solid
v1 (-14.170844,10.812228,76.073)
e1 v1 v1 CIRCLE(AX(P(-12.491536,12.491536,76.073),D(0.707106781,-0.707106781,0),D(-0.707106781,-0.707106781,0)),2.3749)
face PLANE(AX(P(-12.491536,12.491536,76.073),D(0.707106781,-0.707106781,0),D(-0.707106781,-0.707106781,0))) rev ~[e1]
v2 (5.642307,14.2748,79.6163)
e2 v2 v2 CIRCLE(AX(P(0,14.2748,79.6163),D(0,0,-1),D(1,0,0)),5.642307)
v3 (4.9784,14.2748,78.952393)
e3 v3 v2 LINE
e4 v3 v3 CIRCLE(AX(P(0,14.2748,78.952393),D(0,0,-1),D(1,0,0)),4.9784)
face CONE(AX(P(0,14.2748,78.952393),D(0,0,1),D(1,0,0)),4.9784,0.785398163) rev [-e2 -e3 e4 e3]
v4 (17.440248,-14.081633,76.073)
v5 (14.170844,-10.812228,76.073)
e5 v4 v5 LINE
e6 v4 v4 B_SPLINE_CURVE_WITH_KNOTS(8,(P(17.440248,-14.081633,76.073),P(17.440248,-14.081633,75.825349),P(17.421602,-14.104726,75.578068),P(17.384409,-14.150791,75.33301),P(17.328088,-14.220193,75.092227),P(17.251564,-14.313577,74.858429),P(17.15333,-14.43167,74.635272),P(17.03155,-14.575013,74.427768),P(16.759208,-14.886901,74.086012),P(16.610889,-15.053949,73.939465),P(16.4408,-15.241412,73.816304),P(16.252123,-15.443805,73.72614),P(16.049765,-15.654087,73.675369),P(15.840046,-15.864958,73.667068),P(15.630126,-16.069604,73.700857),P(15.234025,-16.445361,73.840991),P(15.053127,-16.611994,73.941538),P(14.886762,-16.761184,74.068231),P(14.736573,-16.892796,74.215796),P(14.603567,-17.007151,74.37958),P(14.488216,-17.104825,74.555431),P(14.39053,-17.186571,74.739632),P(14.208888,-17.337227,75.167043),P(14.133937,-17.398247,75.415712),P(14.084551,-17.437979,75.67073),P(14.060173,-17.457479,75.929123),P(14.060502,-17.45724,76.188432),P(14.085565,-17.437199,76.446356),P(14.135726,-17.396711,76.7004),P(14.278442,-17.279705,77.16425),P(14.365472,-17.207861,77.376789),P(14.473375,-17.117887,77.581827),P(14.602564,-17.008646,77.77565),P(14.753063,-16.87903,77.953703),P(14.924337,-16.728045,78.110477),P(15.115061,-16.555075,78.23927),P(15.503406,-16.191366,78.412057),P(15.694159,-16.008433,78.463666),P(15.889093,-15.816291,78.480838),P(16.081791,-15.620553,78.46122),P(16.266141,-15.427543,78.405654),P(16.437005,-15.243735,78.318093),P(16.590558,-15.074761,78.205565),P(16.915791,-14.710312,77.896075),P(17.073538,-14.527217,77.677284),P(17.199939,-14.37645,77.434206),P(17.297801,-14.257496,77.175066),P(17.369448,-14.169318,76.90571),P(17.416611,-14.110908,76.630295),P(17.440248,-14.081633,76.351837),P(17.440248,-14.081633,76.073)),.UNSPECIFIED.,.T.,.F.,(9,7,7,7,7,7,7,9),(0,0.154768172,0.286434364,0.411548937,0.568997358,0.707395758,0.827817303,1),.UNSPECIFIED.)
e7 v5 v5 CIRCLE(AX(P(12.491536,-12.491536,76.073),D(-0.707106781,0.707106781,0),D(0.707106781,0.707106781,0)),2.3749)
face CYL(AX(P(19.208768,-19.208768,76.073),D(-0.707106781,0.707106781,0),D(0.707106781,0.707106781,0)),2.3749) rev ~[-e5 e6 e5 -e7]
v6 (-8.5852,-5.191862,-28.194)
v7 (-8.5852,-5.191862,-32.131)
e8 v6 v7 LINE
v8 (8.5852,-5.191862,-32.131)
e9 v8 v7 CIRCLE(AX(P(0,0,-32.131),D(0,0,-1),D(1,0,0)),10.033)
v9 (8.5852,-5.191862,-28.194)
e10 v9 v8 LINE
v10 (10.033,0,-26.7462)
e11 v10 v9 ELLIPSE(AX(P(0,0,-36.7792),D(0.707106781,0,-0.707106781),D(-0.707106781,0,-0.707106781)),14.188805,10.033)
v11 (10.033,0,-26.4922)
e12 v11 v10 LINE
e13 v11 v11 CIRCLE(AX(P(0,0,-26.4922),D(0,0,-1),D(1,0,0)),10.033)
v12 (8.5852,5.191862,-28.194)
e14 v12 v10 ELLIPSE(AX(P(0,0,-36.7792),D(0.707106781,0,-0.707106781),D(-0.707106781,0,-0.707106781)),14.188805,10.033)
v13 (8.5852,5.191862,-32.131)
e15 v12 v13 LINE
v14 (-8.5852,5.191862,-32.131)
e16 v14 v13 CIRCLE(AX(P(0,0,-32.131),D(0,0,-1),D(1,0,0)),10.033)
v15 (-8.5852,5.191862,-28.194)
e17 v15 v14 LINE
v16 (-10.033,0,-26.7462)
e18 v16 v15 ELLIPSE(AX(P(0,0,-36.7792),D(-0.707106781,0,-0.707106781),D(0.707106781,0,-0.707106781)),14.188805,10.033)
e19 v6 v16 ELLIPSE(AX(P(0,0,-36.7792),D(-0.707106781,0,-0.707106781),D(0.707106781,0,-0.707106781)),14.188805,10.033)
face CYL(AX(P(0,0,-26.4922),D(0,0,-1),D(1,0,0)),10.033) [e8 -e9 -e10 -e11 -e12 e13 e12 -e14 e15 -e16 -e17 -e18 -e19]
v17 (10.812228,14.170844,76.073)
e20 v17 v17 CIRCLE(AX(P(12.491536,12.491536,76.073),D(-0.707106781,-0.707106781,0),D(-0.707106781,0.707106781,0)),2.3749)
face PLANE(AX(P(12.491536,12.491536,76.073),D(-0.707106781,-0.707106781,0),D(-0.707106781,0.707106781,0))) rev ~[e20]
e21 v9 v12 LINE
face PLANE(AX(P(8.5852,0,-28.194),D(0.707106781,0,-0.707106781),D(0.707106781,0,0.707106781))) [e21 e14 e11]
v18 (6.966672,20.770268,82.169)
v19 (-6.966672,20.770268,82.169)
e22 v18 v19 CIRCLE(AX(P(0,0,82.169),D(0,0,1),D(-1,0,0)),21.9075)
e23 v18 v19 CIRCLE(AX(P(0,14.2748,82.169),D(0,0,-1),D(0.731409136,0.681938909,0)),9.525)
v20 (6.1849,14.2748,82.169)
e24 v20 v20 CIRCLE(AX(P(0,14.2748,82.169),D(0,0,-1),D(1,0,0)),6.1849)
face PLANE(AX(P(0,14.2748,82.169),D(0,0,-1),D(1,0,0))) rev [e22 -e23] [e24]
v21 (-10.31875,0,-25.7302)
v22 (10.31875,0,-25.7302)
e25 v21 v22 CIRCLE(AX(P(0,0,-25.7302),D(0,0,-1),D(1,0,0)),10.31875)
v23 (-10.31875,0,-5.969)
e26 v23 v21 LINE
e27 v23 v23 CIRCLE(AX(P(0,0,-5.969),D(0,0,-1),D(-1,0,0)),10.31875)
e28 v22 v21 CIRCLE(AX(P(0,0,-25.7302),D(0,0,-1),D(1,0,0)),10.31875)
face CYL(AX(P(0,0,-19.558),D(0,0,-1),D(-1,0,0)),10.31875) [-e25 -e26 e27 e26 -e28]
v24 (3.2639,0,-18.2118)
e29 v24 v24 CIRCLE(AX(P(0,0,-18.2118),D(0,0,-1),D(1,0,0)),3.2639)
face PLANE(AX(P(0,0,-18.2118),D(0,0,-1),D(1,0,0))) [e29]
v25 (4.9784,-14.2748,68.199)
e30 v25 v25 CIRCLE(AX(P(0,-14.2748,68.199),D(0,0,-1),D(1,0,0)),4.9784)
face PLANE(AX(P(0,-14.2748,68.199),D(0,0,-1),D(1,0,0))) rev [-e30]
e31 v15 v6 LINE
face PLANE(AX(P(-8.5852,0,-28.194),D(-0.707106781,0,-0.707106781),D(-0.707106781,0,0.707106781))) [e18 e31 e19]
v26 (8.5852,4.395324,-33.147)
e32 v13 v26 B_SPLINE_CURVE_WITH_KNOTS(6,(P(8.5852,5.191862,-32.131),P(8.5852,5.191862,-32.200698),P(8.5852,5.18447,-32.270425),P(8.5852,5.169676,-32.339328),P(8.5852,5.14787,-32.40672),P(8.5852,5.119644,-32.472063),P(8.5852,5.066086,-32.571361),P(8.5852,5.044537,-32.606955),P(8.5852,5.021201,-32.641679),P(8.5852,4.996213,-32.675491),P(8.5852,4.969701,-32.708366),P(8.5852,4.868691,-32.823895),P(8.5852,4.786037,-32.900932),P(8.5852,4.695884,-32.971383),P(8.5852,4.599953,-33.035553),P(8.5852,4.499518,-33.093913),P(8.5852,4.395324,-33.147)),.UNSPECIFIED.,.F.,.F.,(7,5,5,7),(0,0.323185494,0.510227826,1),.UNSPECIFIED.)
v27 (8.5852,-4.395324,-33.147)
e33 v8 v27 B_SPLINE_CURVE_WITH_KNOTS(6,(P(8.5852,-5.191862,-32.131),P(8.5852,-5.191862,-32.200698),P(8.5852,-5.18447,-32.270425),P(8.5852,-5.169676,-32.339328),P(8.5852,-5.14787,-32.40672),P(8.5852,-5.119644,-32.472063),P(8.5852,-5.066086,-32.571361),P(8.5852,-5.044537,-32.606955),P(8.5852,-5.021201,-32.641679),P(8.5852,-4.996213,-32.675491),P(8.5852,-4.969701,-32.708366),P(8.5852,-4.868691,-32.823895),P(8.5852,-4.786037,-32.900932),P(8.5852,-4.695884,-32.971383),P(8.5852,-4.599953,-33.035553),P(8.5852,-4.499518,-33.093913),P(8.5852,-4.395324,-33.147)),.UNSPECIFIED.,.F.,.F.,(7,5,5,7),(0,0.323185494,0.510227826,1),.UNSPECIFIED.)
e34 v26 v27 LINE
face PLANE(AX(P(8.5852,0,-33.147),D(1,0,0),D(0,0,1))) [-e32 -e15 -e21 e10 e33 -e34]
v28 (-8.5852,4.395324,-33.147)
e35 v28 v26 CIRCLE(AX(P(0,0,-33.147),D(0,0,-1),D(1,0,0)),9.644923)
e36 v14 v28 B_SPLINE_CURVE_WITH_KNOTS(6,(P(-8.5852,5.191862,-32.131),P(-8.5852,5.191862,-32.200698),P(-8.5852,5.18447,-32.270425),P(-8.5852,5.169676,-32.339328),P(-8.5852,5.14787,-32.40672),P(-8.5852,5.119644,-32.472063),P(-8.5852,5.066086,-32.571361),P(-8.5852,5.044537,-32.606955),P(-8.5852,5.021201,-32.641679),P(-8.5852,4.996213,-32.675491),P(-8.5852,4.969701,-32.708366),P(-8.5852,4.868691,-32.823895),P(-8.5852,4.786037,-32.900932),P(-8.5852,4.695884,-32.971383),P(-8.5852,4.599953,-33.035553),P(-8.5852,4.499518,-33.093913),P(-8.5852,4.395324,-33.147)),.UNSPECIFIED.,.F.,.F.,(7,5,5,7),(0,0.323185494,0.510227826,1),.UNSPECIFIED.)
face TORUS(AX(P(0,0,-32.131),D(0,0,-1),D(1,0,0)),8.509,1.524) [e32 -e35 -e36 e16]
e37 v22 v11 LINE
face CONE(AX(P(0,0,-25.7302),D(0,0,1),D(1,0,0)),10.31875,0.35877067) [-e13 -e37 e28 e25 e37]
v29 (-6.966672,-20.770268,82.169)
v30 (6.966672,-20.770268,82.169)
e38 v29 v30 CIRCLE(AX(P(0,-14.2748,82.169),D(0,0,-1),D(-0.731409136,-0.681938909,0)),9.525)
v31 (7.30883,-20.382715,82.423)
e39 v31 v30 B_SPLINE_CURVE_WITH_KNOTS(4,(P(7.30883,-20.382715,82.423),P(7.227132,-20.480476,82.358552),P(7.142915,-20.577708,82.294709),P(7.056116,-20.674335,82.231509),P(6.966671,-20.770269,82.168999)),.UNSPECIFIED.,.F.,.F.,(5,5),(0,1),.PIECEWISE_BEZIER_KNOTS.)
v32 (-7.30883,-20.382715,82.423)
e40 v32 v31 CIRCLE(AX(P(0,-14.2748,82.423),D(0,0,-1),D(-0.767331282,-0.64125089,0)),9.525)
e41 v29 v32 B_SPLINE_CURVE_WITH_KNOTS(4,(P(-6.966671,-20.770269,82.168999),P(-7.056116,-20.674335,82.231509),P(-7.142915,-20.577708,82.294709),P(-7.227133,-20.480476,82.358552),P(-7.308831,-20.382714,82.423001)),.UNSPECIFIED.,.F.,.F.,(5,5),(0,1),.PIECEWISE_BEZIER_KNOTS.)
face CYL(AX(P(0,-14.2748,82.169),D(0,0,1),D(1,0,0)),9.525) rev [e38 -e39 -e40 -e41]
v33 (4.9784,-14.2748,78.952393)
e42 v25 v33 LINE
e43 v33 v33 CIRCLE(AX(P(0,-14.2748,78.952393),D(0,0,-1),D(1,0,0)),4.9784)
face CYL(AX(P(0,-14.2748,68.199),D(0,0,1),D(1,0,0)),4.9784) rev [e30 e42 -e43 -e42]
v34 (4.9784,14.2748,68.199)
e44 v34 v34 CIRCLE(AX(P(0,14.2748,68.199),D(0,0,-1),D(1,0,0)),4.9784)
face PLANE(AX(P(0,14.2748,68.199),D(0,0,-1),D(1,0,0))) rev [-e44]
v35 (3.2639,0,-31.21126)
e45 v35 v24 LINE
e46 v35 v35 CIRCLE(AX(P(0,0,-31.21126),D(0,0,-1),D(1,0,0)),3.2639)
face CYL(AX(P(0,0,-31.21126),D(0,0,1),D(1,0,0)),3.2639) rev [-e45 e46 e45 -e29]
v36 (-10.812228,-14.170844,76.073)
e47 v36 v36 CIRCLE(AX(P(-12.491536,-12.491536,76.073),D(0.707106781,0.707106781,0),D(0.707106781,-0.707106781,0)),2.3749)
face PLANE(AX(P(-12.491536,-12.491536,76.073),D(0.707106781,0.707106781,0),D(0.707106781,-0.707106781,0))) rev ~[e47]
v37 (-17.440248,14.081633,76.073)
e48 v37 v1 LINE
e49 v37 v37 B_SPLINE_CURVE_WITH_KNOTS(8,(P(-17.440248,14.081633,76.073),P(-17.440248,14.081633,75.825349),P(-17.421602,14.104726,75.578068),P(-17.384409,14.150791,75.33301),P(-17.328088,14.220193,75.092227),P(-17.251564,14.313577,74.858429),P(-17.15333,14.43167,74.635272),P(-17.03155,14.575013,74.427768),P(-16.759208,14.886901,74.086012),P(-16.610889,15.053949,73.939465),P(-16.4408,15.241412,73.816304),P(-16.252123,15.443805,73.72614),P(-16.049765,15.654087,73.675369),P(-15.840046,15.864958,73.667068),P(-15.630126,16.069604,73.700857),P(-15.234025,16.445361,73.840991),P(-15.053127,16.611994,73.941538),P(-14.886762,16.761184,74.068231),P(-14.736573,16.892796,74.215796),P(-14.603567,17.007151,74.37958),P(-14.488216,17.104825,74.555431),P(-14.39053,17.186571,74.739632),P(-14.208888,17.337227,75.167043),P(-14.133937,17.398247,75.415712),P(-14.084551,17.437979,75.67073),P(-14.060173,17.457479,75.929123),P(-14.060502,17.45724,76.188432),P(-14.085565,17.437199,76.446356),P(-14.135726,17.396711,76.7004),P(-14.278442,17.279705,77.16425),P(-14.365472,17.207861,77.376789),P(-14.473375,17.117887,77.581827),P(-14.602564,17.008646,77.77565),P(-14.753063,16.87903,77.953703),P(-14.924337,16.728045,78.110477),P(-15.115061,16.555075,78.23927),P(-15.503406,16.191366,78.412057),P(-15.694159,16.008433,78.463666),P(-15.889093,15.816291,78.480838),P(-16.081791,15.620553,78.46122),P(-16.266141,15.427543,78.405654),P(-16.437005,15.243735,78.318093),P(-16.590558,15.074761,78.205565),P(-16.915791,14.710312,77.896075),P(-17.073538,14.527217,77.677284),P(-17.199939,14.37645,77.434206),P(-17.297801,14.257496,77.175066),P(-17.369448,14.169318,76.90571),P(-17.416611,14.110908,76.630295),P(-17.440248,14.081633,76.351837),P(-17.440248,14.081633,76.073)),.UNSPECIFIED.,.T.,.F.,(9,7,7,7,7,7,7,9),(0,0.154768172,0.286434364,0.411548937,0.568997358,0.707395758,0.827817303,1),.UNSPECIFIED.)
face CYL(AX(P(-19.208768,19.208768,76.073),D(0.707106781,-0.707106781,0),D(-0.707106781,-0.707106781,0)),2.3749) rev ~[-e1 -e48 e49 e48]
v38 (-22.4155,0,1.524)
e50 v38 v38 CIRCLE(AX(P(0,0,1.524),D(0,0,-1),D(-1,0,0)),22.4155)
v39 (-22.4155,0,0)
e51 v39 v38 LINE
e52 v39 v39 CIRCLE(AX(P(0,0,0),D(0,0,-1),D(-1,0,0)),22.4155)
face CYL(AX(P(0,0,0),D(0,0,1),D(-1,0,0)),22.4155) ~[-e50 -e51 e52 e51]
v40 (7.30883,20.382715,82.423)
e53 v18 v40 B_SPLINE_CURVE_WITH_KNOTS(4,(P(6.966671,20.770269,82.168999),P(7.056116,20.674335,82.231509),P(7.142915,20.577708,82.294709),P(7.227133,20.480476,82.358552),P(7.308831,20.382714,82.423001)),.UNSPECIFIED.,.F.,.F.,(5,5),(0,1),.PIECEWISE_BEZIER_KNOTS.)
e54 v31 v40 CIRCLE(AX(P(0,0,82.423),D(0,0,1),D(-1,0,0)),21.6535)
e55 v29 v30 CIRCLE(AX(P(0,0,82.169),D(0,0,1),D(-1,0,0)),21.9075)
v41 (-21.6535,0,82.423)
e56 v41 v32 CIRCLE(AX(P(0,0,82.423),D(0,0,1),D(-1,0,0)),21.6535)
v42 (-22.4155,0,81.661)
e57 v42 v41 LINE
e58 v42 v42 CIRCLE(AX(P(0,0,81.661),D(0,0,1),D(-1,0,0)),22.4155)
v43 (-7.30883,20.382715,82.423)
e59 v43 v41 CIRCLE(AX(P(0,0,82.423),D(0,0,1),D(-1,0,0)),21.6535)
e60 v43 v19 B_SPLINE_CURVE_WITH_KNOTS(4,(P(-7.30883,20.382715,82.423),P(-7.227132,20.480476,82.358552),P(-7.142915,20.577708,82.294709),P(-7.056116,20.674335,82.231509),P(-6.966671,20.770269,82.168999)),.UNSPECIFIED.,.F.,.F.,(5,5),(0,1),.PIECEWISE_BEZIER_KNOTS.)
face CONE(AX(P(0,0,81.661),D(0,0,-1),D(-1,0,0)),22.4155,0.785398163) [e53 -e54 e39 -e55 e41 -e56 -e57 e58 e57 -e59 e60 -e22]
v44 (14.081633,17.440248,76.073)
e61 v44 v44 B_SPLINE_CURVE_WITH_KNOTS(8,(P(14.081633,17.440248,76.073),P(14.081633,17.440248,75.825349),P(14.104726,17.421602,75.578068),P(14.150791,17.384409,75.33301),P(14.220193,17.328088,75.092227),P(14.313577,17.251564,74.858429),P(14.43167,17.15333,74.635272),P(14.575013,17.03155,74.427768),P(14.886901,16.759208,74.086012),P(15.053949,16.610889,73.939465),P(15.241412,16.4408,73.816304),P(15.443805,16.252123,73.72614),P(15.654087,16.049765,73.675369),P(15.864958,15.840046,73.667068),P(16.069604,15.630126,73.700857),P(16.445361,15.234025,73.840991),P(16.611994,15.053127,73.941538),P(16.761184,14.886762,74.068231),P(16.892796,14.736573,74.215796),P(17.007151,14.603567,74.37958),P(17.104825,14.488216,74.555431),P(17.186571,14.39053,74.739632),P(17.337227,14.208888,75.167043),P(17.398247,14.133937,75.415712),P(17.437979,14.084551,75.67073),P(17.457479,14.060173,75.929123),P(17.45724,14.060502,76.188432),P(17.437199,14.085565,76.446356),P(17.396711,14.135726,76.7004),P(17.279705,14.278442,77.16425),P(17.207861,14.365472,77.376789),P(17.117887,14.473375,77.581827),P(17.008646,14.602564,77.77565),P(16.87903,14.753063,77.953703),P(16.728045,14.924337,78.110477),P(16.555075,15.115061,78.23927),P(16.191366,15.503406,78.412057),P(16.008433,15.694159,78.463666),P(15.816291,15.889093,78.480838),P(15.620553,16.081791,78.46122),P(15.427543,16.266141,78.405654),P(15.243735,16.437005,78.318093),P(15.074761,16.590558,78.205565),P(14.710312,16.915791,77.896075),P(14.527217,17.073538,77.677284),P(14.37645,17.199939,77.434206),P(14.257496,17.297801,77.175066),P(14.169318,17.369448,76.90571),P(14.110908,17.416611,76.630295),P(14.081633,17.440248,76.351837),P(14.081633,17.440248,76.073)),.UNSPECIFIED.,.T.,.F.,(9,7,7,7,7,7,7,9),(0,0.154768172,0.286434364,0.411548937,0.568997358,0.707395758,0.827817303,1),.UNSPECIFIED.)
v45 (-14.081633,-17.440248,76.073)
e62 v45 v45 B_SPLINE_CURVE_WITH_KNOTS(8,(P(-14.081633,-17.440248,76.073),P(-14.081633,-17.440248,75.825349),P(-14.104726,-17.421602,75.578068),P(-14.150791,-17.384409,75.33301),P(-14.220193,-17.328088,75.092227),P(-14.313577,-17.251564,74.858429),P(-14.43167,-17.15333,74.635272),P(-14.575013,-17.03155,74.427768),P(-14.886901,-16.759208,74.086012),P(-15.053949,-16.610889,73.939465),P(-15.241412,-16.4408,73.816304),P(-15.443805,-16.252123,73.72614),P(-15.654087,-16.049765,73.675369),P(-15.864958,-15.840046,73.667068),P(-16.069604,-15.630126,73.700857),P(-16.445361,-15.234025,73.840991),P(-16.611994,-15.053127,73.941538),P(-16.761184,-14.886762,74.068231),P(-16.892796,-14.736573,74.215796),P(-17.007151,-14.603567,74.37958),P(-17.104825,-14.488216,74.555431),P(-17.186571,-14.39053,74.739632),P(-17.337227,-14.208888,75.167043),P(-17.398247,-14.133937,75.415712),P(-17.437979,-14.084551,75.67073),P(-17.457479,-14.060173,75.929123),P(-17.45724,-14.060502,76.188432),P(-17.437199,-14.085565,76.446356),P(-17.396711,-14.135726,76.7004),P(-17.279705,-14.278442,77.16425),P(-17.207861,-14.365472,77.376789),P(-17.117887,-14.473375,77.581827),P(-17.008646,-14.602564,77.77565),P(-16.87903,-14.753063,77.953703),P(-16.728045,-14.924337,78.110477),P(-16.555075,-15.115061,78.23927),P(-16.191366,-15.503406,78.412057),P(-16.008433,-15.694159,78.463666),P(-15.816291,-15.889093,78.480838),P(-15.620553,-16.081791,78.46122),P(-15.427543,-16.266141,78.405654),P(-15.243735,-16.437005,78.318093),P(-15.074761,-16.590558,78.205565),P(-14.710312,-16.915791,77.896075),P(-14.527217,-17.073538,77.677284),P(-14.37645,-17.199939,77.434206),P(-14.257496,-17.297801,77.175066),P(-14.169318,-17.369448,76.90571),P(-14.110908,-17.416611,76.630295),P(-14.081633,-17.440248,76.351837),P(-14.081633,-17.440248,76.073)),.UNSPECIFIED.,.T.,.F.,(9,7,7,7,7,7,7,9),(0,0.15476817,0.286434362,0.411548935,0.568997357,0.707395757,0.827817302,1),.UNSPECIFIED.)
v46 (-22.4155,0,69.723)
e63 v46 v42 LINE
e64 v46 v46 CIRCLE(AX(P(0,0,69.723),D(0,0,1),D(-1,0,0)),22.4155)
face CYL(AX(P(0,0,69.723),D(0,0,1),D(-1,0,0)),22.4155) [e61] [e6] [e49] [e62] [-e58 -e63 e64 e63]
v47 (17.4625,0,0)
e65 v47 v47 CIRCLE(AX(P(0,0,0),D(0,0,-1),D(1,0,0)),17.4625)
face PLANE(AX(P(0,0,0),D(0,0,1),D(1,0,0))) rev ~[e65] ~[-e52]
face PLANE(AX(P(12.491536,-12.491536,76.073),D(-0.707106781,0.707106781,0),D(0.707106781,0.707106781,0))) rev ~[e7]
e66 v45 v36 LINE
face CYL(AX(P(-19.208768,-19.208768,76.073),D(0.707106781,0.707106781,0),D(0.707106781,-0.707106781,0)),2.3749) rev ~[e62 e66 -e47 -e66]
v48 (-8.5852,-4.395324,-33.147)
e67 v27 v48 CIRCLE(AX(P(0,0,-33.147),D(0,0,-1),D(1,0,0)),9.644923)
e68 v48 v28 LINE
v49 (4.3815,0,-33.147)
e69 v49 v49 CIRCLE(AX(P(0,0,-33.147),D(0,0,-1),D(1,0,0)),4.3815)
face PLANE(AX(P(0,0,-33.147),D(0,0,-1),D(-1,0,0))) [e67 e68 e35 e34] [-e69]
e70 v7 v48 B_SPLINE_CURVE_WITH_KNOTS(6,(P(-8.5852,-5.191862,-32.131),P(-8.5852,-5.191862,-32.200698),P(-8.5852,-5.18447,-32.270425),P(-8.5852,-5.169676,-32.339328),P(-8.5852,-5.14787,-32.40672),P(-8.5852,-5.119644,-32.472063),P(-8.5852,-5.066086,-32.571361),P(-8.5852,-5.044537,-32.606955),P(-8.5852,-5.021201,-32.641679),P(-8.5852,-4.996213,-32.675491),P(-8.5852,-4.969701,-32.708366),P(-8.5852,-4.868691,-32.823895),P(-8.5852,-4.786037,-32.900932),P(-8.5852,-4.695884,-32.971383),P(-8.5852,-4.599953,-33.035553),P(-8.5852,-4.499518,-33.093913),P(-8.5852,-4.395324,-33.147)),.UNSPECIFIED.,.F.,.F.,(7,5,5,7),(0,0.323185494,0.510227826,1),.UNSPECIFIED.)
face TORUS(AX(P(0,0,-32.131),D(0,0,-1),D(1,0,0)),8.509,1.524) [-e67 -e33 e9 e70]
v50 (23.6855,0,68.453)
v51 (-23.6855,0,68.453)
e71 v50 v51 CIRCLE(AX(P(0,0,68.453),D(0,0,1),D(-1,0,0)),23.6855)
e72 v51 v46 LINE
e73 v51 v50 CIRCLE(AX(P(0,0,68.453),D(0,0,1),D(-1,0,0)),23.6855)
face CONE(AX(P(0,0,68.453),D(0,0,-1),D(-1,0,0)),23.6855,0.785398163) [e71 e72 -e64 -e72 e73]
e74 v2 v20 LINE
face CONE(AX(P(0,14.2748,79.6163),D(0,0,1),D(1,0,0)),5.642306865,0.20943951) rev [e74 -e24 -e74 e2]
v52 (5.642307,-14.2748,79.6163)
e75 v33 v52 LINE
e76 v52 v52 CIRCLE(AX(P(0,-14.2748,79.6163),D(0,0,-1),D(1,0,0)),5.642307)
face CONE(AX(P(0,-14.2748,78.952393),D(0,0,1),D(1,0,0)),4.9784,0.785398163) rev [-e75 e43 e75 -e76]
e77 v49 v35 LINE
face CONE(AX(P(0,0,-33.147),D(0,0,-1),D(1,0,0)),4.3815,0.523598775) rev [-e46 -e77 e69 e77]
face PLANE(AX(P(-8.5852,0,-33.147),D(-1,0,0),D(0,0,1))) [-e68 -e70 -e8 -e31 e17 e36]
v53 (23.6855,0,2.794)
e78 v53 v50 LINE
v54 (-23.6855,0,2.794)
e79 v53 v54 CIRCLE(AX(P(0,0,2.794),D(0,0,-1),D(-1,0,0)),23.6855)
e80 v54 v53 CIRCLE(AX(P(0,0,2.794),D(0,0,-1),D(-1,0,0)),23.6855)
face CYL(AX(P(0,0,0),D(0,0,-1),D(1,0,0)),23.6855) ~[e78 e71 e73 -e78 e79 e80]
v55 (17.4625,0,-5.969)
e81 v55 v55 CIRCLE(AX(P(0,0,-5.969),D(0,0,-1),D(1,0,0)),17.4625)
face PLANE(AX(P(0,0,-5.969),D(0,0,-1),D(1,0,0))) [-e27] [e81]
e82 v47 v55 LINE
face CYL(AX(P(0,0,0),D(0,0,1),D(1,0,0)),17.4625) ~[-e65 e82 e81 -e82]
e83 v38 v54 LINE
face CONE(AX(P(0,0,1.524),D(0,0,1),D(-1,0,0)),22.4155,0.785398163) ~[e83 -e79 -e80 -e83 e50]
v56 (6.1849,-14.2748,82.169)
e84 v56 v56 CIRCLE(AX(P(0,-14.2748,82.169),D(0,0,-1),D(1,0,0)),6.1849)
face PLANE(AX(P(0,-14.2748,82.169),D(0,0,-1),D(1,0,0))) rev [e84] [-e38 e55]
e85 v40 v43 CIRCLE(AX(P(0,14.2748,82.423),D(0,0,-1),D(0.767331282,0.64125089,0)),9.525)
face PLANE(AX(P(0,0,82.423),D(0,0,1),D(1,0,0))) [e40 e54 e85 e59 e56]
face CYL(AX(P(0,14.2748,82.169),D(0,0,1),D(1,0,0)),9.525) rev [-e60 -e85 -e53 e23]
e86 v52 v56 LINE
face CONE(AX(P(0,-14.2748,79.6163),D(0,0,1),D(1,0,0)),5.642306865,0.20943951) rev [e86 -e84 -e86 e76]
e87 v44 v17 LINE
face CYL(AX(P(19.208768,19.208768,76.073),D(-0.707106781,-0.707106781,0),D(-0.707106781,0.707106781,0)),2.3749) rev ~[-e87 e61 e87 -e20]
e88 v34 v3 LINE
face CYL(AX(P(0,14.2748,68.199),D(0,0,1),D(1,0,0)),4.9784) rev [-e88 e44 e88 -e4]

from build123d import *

# Parameters (mm, degrees)
SKETCH1_R          = 23.6855
EXTRUDE1_DEPTH     = 82.423
CHAMFER1_SIZE      = 0.762
SKETCH6_R          = 17.4625
EXTRUDE2_DEPTH     = 5.969
SKETCH7_W          = 27.178
SKETCH7_H          = 10.31875
CUT_EXTRUDE4_DEPTH = 19.84248
HOLE1_D            = 4.7498
HOLE1_DEPTH        = 4.7498
CIRPATTERN1_COUNT  = 4
LPATTERN1_COUNT    = 2
LPATTERN1_PITCH    = 28.5496


with BuildPart() as part:
    # Sketch1 → Extrude1 (new body)
    with BuildSketch(Plane.XY):
        Circle(SKETCH1_R)
    extrude(amount=EXTRUDE1_DEPTH)

    # Sketch2 → Cut-Revolve1 (revolve, cut)
    with BuildSketch(Plane(origin=(0, 0, 0), x_dir=(1, 0, 0), z_dir=(0, 1, 0)), mode=Mode.PRIVATE) as cut_revolve1_sk:
        Polygon((23.6855, -82.423), (23.6855, -68.453), (22.4155, -69.723), (22.4155, -82.423), align=None)
    revolve(cut_revolve1_sk.sketch.rotate(Axis((0, 0, 0), (0, 0, 1)), 180), axis=Axis((0, 0, 0), (0, 0, 1)), mode=Mode.SUBTRACT)  # turned: the seam where the file's is

    # Sketch3 → Cut-Revolve2 (revolve, cut)
    with BuildSketch(Plane(origin=(0, 0, 0), x_dir=(1, 0, 0), z_dir=(0, 1, 0)), mode=Mode.PRIVATE) as cut_revolve2_sk:
        Polygon((22.4155, 0), (22.4155, -1.524), (23.6855, -2.794), (23.6855, 0), align=None)
    revolve(cut_revolve2_sk.sketch.rotate(Axis((0, 0, 0), (0, 0, -1)), 180), axis=Axis((0, 0, 0), (0, 0, -1)), mode=Mode.SUBTRACT)  # turned: the seam where the file's is

    # Chamfer1
    chamfer1_edges = [part.edges().sort_by_distance(p)[0] for p in [
        (22.4155, 0, 82.423),
    ]]
    chamfer(chamfer1_edges, length=CHAMFER1_SIZE)

    # S2D0002 → Cut-Revolve3 (revolve, cut)
    with BuildSketch(Plane(origin=(0, 0, 0), x_dir=(0, -1, 0), z_dir=(1, 0, 0)), mode=Mode.PRIVATE) as cut_revolve3_sk:
        Polygon((20.4597, -82.169), (23.7998, -82.169), (23.7998, -82.423), (14.2748, -82.423), (14.2748, -68.199), (19.2532, -68.199), (19.2532, -78.952393135), (19.917106865, -79.6163), align=None)
    cut_revolve3 = revolve(cut_revolve3_sk.sketch.rotate(Axis((0, -14.2748, 14.6685), (0, 0, -1)), 270), axis=Axis((0, -14.2748, 14.6685), (0, 0, -1)), mode=Mode.SUBTRACT)  # turned: the seam where the file's is

    # Sketch6 → Extrude2 (add)
    with BuildSketch(Plane(origin=(0, 0, 0), x_dir=(-1, 0, 0), z_dir=(0, 0, -1))):
        with Locations(Location((0, 0, 0), (0, 0, 180))):  # turned: the seam where the file's is
            Circle(SKETCH6_R)
    extrude(amount=EXTRUDE2_DEPTH)

    # Sketch7 → Revolve1 (revolve)
    with BuildSketch(Plane(origin=(0, 0, 0), x_dir=(0, 0, -1), z_dir=(1, 0, 0)), mode=Mode.PRIVATE) as revolve1_sk:
        with Locations((19.558, -5.159375)):
            Rectangle(SKETCH7_W, SKETCH7_H)
    revolve(revolve1_sk.sketch.rotate(Axis((0, 0, 0), (0, 0, -1)), 90), axis=Axis((0, 0, 0), (0, 0, -1)))  # turned: the seam where the file's is

    # S2D0001 → Cut-Revolve5 (revolve, cut)
    with BuildSketch(Plane(origin=(0, 0, 0), x_dir=(1, 0, 0), z_dir=(0, 1, 0))):
        Polygon((3.2639, 31.211260017), (3.2639, 18.2118), (0, 18.2118), (0, 33.147), (4.3815, 33.147), align=None)
    revolve(axis=Axis((0, 0, 31.308359971), (0, 0, -1)), mode=Mode.SUBTRACT)

    # Sketch9 → Cut-Revolve6 (revolve, cut)
    with BuildSketch(Plane(origin=(0, 0, 0), x_dir=(0, -1, 0), z_dir=(1, 0, 0)), mode=Mode.PRIVATE) as cut_revolve6_sk:
        with BuildLine():
            Line((-10.31875, 25.7302), (-10.033, 26.4922))
            Line((-10.033, 26.4922), (-10.033, 32.131))
            ThreePointArc((-10.033, 32.131), (-9.932678675, 32.674796865), (-9.644922533, 33.147))
            Line((-9.644922533, 33.147), (-10.31875, 33.147))
            Line((-10.31875, 33.147), (-10.31875, 25.7302))
        make_face()
    revolve(cut_revolve6_sk.sketch.rotate(Axis((0, 0, -12.65936), (0, 0, -1)), 90), axis=Axis((0, 0, -12.65936), (0, 0, -1)), mode=Mode.SUBTRACT)  # turned: the seam where the file's is

    # Sketch13 → Cut-Extrude4 (cut, symmetric)
    with BuildSketch(Plane(origin=(0, 0, 0), x_dir=(1, 0, 0), z_dir=(0, 1, 0))):
        Polygon((8.5852, 33.147), (8.5852, 28.194), (10.033, 26.7462), (10.033, 33.147), align=None)
        Polygon((-8.5852, 33.147), (-8.5852, 28.194), (-10.033, 26.7462), (-10.033, 33.147), align=None)
    extrude(amount=CUT_EXTRUDE4_DEPTH, both=True, mode=Mode.SUBTRACT)

    # Hole1
    with Locations(Plane(origin=(-15.850152054, 15.850152054, 76.073), x_dir=(0.707106781, 0.707106781, 0), z_dir=(-0.707106781, 0.707106781, 0))):
        with Locations((0, 0)):
            hole1 = Hole(HOLE1_D / 2, depth=HOLE1_DEPTH)

    # CirPattern1: Hole1 ×4 about axis
    cirpattern1_axis = Axis((0, 0, 0), (0, 0, 1))
    for i in range(1, CIRPATTERN1_COUNT):
        add(hole1.rotate(cirpattern1_axis, i * 360 / CIRPATTERN1_COUNT), mode=Mode.SUBTRACT)

    # LPattern1: Cut-Revolve3 ×2
    with Locations(*[(0, i * LPATTERN1_PITCH, 0) for i in range(1, LPATTERN1_COUNT)]):
        add(cut_revolve3, mode=Mode.SUBTRACT)


solid = part.part
